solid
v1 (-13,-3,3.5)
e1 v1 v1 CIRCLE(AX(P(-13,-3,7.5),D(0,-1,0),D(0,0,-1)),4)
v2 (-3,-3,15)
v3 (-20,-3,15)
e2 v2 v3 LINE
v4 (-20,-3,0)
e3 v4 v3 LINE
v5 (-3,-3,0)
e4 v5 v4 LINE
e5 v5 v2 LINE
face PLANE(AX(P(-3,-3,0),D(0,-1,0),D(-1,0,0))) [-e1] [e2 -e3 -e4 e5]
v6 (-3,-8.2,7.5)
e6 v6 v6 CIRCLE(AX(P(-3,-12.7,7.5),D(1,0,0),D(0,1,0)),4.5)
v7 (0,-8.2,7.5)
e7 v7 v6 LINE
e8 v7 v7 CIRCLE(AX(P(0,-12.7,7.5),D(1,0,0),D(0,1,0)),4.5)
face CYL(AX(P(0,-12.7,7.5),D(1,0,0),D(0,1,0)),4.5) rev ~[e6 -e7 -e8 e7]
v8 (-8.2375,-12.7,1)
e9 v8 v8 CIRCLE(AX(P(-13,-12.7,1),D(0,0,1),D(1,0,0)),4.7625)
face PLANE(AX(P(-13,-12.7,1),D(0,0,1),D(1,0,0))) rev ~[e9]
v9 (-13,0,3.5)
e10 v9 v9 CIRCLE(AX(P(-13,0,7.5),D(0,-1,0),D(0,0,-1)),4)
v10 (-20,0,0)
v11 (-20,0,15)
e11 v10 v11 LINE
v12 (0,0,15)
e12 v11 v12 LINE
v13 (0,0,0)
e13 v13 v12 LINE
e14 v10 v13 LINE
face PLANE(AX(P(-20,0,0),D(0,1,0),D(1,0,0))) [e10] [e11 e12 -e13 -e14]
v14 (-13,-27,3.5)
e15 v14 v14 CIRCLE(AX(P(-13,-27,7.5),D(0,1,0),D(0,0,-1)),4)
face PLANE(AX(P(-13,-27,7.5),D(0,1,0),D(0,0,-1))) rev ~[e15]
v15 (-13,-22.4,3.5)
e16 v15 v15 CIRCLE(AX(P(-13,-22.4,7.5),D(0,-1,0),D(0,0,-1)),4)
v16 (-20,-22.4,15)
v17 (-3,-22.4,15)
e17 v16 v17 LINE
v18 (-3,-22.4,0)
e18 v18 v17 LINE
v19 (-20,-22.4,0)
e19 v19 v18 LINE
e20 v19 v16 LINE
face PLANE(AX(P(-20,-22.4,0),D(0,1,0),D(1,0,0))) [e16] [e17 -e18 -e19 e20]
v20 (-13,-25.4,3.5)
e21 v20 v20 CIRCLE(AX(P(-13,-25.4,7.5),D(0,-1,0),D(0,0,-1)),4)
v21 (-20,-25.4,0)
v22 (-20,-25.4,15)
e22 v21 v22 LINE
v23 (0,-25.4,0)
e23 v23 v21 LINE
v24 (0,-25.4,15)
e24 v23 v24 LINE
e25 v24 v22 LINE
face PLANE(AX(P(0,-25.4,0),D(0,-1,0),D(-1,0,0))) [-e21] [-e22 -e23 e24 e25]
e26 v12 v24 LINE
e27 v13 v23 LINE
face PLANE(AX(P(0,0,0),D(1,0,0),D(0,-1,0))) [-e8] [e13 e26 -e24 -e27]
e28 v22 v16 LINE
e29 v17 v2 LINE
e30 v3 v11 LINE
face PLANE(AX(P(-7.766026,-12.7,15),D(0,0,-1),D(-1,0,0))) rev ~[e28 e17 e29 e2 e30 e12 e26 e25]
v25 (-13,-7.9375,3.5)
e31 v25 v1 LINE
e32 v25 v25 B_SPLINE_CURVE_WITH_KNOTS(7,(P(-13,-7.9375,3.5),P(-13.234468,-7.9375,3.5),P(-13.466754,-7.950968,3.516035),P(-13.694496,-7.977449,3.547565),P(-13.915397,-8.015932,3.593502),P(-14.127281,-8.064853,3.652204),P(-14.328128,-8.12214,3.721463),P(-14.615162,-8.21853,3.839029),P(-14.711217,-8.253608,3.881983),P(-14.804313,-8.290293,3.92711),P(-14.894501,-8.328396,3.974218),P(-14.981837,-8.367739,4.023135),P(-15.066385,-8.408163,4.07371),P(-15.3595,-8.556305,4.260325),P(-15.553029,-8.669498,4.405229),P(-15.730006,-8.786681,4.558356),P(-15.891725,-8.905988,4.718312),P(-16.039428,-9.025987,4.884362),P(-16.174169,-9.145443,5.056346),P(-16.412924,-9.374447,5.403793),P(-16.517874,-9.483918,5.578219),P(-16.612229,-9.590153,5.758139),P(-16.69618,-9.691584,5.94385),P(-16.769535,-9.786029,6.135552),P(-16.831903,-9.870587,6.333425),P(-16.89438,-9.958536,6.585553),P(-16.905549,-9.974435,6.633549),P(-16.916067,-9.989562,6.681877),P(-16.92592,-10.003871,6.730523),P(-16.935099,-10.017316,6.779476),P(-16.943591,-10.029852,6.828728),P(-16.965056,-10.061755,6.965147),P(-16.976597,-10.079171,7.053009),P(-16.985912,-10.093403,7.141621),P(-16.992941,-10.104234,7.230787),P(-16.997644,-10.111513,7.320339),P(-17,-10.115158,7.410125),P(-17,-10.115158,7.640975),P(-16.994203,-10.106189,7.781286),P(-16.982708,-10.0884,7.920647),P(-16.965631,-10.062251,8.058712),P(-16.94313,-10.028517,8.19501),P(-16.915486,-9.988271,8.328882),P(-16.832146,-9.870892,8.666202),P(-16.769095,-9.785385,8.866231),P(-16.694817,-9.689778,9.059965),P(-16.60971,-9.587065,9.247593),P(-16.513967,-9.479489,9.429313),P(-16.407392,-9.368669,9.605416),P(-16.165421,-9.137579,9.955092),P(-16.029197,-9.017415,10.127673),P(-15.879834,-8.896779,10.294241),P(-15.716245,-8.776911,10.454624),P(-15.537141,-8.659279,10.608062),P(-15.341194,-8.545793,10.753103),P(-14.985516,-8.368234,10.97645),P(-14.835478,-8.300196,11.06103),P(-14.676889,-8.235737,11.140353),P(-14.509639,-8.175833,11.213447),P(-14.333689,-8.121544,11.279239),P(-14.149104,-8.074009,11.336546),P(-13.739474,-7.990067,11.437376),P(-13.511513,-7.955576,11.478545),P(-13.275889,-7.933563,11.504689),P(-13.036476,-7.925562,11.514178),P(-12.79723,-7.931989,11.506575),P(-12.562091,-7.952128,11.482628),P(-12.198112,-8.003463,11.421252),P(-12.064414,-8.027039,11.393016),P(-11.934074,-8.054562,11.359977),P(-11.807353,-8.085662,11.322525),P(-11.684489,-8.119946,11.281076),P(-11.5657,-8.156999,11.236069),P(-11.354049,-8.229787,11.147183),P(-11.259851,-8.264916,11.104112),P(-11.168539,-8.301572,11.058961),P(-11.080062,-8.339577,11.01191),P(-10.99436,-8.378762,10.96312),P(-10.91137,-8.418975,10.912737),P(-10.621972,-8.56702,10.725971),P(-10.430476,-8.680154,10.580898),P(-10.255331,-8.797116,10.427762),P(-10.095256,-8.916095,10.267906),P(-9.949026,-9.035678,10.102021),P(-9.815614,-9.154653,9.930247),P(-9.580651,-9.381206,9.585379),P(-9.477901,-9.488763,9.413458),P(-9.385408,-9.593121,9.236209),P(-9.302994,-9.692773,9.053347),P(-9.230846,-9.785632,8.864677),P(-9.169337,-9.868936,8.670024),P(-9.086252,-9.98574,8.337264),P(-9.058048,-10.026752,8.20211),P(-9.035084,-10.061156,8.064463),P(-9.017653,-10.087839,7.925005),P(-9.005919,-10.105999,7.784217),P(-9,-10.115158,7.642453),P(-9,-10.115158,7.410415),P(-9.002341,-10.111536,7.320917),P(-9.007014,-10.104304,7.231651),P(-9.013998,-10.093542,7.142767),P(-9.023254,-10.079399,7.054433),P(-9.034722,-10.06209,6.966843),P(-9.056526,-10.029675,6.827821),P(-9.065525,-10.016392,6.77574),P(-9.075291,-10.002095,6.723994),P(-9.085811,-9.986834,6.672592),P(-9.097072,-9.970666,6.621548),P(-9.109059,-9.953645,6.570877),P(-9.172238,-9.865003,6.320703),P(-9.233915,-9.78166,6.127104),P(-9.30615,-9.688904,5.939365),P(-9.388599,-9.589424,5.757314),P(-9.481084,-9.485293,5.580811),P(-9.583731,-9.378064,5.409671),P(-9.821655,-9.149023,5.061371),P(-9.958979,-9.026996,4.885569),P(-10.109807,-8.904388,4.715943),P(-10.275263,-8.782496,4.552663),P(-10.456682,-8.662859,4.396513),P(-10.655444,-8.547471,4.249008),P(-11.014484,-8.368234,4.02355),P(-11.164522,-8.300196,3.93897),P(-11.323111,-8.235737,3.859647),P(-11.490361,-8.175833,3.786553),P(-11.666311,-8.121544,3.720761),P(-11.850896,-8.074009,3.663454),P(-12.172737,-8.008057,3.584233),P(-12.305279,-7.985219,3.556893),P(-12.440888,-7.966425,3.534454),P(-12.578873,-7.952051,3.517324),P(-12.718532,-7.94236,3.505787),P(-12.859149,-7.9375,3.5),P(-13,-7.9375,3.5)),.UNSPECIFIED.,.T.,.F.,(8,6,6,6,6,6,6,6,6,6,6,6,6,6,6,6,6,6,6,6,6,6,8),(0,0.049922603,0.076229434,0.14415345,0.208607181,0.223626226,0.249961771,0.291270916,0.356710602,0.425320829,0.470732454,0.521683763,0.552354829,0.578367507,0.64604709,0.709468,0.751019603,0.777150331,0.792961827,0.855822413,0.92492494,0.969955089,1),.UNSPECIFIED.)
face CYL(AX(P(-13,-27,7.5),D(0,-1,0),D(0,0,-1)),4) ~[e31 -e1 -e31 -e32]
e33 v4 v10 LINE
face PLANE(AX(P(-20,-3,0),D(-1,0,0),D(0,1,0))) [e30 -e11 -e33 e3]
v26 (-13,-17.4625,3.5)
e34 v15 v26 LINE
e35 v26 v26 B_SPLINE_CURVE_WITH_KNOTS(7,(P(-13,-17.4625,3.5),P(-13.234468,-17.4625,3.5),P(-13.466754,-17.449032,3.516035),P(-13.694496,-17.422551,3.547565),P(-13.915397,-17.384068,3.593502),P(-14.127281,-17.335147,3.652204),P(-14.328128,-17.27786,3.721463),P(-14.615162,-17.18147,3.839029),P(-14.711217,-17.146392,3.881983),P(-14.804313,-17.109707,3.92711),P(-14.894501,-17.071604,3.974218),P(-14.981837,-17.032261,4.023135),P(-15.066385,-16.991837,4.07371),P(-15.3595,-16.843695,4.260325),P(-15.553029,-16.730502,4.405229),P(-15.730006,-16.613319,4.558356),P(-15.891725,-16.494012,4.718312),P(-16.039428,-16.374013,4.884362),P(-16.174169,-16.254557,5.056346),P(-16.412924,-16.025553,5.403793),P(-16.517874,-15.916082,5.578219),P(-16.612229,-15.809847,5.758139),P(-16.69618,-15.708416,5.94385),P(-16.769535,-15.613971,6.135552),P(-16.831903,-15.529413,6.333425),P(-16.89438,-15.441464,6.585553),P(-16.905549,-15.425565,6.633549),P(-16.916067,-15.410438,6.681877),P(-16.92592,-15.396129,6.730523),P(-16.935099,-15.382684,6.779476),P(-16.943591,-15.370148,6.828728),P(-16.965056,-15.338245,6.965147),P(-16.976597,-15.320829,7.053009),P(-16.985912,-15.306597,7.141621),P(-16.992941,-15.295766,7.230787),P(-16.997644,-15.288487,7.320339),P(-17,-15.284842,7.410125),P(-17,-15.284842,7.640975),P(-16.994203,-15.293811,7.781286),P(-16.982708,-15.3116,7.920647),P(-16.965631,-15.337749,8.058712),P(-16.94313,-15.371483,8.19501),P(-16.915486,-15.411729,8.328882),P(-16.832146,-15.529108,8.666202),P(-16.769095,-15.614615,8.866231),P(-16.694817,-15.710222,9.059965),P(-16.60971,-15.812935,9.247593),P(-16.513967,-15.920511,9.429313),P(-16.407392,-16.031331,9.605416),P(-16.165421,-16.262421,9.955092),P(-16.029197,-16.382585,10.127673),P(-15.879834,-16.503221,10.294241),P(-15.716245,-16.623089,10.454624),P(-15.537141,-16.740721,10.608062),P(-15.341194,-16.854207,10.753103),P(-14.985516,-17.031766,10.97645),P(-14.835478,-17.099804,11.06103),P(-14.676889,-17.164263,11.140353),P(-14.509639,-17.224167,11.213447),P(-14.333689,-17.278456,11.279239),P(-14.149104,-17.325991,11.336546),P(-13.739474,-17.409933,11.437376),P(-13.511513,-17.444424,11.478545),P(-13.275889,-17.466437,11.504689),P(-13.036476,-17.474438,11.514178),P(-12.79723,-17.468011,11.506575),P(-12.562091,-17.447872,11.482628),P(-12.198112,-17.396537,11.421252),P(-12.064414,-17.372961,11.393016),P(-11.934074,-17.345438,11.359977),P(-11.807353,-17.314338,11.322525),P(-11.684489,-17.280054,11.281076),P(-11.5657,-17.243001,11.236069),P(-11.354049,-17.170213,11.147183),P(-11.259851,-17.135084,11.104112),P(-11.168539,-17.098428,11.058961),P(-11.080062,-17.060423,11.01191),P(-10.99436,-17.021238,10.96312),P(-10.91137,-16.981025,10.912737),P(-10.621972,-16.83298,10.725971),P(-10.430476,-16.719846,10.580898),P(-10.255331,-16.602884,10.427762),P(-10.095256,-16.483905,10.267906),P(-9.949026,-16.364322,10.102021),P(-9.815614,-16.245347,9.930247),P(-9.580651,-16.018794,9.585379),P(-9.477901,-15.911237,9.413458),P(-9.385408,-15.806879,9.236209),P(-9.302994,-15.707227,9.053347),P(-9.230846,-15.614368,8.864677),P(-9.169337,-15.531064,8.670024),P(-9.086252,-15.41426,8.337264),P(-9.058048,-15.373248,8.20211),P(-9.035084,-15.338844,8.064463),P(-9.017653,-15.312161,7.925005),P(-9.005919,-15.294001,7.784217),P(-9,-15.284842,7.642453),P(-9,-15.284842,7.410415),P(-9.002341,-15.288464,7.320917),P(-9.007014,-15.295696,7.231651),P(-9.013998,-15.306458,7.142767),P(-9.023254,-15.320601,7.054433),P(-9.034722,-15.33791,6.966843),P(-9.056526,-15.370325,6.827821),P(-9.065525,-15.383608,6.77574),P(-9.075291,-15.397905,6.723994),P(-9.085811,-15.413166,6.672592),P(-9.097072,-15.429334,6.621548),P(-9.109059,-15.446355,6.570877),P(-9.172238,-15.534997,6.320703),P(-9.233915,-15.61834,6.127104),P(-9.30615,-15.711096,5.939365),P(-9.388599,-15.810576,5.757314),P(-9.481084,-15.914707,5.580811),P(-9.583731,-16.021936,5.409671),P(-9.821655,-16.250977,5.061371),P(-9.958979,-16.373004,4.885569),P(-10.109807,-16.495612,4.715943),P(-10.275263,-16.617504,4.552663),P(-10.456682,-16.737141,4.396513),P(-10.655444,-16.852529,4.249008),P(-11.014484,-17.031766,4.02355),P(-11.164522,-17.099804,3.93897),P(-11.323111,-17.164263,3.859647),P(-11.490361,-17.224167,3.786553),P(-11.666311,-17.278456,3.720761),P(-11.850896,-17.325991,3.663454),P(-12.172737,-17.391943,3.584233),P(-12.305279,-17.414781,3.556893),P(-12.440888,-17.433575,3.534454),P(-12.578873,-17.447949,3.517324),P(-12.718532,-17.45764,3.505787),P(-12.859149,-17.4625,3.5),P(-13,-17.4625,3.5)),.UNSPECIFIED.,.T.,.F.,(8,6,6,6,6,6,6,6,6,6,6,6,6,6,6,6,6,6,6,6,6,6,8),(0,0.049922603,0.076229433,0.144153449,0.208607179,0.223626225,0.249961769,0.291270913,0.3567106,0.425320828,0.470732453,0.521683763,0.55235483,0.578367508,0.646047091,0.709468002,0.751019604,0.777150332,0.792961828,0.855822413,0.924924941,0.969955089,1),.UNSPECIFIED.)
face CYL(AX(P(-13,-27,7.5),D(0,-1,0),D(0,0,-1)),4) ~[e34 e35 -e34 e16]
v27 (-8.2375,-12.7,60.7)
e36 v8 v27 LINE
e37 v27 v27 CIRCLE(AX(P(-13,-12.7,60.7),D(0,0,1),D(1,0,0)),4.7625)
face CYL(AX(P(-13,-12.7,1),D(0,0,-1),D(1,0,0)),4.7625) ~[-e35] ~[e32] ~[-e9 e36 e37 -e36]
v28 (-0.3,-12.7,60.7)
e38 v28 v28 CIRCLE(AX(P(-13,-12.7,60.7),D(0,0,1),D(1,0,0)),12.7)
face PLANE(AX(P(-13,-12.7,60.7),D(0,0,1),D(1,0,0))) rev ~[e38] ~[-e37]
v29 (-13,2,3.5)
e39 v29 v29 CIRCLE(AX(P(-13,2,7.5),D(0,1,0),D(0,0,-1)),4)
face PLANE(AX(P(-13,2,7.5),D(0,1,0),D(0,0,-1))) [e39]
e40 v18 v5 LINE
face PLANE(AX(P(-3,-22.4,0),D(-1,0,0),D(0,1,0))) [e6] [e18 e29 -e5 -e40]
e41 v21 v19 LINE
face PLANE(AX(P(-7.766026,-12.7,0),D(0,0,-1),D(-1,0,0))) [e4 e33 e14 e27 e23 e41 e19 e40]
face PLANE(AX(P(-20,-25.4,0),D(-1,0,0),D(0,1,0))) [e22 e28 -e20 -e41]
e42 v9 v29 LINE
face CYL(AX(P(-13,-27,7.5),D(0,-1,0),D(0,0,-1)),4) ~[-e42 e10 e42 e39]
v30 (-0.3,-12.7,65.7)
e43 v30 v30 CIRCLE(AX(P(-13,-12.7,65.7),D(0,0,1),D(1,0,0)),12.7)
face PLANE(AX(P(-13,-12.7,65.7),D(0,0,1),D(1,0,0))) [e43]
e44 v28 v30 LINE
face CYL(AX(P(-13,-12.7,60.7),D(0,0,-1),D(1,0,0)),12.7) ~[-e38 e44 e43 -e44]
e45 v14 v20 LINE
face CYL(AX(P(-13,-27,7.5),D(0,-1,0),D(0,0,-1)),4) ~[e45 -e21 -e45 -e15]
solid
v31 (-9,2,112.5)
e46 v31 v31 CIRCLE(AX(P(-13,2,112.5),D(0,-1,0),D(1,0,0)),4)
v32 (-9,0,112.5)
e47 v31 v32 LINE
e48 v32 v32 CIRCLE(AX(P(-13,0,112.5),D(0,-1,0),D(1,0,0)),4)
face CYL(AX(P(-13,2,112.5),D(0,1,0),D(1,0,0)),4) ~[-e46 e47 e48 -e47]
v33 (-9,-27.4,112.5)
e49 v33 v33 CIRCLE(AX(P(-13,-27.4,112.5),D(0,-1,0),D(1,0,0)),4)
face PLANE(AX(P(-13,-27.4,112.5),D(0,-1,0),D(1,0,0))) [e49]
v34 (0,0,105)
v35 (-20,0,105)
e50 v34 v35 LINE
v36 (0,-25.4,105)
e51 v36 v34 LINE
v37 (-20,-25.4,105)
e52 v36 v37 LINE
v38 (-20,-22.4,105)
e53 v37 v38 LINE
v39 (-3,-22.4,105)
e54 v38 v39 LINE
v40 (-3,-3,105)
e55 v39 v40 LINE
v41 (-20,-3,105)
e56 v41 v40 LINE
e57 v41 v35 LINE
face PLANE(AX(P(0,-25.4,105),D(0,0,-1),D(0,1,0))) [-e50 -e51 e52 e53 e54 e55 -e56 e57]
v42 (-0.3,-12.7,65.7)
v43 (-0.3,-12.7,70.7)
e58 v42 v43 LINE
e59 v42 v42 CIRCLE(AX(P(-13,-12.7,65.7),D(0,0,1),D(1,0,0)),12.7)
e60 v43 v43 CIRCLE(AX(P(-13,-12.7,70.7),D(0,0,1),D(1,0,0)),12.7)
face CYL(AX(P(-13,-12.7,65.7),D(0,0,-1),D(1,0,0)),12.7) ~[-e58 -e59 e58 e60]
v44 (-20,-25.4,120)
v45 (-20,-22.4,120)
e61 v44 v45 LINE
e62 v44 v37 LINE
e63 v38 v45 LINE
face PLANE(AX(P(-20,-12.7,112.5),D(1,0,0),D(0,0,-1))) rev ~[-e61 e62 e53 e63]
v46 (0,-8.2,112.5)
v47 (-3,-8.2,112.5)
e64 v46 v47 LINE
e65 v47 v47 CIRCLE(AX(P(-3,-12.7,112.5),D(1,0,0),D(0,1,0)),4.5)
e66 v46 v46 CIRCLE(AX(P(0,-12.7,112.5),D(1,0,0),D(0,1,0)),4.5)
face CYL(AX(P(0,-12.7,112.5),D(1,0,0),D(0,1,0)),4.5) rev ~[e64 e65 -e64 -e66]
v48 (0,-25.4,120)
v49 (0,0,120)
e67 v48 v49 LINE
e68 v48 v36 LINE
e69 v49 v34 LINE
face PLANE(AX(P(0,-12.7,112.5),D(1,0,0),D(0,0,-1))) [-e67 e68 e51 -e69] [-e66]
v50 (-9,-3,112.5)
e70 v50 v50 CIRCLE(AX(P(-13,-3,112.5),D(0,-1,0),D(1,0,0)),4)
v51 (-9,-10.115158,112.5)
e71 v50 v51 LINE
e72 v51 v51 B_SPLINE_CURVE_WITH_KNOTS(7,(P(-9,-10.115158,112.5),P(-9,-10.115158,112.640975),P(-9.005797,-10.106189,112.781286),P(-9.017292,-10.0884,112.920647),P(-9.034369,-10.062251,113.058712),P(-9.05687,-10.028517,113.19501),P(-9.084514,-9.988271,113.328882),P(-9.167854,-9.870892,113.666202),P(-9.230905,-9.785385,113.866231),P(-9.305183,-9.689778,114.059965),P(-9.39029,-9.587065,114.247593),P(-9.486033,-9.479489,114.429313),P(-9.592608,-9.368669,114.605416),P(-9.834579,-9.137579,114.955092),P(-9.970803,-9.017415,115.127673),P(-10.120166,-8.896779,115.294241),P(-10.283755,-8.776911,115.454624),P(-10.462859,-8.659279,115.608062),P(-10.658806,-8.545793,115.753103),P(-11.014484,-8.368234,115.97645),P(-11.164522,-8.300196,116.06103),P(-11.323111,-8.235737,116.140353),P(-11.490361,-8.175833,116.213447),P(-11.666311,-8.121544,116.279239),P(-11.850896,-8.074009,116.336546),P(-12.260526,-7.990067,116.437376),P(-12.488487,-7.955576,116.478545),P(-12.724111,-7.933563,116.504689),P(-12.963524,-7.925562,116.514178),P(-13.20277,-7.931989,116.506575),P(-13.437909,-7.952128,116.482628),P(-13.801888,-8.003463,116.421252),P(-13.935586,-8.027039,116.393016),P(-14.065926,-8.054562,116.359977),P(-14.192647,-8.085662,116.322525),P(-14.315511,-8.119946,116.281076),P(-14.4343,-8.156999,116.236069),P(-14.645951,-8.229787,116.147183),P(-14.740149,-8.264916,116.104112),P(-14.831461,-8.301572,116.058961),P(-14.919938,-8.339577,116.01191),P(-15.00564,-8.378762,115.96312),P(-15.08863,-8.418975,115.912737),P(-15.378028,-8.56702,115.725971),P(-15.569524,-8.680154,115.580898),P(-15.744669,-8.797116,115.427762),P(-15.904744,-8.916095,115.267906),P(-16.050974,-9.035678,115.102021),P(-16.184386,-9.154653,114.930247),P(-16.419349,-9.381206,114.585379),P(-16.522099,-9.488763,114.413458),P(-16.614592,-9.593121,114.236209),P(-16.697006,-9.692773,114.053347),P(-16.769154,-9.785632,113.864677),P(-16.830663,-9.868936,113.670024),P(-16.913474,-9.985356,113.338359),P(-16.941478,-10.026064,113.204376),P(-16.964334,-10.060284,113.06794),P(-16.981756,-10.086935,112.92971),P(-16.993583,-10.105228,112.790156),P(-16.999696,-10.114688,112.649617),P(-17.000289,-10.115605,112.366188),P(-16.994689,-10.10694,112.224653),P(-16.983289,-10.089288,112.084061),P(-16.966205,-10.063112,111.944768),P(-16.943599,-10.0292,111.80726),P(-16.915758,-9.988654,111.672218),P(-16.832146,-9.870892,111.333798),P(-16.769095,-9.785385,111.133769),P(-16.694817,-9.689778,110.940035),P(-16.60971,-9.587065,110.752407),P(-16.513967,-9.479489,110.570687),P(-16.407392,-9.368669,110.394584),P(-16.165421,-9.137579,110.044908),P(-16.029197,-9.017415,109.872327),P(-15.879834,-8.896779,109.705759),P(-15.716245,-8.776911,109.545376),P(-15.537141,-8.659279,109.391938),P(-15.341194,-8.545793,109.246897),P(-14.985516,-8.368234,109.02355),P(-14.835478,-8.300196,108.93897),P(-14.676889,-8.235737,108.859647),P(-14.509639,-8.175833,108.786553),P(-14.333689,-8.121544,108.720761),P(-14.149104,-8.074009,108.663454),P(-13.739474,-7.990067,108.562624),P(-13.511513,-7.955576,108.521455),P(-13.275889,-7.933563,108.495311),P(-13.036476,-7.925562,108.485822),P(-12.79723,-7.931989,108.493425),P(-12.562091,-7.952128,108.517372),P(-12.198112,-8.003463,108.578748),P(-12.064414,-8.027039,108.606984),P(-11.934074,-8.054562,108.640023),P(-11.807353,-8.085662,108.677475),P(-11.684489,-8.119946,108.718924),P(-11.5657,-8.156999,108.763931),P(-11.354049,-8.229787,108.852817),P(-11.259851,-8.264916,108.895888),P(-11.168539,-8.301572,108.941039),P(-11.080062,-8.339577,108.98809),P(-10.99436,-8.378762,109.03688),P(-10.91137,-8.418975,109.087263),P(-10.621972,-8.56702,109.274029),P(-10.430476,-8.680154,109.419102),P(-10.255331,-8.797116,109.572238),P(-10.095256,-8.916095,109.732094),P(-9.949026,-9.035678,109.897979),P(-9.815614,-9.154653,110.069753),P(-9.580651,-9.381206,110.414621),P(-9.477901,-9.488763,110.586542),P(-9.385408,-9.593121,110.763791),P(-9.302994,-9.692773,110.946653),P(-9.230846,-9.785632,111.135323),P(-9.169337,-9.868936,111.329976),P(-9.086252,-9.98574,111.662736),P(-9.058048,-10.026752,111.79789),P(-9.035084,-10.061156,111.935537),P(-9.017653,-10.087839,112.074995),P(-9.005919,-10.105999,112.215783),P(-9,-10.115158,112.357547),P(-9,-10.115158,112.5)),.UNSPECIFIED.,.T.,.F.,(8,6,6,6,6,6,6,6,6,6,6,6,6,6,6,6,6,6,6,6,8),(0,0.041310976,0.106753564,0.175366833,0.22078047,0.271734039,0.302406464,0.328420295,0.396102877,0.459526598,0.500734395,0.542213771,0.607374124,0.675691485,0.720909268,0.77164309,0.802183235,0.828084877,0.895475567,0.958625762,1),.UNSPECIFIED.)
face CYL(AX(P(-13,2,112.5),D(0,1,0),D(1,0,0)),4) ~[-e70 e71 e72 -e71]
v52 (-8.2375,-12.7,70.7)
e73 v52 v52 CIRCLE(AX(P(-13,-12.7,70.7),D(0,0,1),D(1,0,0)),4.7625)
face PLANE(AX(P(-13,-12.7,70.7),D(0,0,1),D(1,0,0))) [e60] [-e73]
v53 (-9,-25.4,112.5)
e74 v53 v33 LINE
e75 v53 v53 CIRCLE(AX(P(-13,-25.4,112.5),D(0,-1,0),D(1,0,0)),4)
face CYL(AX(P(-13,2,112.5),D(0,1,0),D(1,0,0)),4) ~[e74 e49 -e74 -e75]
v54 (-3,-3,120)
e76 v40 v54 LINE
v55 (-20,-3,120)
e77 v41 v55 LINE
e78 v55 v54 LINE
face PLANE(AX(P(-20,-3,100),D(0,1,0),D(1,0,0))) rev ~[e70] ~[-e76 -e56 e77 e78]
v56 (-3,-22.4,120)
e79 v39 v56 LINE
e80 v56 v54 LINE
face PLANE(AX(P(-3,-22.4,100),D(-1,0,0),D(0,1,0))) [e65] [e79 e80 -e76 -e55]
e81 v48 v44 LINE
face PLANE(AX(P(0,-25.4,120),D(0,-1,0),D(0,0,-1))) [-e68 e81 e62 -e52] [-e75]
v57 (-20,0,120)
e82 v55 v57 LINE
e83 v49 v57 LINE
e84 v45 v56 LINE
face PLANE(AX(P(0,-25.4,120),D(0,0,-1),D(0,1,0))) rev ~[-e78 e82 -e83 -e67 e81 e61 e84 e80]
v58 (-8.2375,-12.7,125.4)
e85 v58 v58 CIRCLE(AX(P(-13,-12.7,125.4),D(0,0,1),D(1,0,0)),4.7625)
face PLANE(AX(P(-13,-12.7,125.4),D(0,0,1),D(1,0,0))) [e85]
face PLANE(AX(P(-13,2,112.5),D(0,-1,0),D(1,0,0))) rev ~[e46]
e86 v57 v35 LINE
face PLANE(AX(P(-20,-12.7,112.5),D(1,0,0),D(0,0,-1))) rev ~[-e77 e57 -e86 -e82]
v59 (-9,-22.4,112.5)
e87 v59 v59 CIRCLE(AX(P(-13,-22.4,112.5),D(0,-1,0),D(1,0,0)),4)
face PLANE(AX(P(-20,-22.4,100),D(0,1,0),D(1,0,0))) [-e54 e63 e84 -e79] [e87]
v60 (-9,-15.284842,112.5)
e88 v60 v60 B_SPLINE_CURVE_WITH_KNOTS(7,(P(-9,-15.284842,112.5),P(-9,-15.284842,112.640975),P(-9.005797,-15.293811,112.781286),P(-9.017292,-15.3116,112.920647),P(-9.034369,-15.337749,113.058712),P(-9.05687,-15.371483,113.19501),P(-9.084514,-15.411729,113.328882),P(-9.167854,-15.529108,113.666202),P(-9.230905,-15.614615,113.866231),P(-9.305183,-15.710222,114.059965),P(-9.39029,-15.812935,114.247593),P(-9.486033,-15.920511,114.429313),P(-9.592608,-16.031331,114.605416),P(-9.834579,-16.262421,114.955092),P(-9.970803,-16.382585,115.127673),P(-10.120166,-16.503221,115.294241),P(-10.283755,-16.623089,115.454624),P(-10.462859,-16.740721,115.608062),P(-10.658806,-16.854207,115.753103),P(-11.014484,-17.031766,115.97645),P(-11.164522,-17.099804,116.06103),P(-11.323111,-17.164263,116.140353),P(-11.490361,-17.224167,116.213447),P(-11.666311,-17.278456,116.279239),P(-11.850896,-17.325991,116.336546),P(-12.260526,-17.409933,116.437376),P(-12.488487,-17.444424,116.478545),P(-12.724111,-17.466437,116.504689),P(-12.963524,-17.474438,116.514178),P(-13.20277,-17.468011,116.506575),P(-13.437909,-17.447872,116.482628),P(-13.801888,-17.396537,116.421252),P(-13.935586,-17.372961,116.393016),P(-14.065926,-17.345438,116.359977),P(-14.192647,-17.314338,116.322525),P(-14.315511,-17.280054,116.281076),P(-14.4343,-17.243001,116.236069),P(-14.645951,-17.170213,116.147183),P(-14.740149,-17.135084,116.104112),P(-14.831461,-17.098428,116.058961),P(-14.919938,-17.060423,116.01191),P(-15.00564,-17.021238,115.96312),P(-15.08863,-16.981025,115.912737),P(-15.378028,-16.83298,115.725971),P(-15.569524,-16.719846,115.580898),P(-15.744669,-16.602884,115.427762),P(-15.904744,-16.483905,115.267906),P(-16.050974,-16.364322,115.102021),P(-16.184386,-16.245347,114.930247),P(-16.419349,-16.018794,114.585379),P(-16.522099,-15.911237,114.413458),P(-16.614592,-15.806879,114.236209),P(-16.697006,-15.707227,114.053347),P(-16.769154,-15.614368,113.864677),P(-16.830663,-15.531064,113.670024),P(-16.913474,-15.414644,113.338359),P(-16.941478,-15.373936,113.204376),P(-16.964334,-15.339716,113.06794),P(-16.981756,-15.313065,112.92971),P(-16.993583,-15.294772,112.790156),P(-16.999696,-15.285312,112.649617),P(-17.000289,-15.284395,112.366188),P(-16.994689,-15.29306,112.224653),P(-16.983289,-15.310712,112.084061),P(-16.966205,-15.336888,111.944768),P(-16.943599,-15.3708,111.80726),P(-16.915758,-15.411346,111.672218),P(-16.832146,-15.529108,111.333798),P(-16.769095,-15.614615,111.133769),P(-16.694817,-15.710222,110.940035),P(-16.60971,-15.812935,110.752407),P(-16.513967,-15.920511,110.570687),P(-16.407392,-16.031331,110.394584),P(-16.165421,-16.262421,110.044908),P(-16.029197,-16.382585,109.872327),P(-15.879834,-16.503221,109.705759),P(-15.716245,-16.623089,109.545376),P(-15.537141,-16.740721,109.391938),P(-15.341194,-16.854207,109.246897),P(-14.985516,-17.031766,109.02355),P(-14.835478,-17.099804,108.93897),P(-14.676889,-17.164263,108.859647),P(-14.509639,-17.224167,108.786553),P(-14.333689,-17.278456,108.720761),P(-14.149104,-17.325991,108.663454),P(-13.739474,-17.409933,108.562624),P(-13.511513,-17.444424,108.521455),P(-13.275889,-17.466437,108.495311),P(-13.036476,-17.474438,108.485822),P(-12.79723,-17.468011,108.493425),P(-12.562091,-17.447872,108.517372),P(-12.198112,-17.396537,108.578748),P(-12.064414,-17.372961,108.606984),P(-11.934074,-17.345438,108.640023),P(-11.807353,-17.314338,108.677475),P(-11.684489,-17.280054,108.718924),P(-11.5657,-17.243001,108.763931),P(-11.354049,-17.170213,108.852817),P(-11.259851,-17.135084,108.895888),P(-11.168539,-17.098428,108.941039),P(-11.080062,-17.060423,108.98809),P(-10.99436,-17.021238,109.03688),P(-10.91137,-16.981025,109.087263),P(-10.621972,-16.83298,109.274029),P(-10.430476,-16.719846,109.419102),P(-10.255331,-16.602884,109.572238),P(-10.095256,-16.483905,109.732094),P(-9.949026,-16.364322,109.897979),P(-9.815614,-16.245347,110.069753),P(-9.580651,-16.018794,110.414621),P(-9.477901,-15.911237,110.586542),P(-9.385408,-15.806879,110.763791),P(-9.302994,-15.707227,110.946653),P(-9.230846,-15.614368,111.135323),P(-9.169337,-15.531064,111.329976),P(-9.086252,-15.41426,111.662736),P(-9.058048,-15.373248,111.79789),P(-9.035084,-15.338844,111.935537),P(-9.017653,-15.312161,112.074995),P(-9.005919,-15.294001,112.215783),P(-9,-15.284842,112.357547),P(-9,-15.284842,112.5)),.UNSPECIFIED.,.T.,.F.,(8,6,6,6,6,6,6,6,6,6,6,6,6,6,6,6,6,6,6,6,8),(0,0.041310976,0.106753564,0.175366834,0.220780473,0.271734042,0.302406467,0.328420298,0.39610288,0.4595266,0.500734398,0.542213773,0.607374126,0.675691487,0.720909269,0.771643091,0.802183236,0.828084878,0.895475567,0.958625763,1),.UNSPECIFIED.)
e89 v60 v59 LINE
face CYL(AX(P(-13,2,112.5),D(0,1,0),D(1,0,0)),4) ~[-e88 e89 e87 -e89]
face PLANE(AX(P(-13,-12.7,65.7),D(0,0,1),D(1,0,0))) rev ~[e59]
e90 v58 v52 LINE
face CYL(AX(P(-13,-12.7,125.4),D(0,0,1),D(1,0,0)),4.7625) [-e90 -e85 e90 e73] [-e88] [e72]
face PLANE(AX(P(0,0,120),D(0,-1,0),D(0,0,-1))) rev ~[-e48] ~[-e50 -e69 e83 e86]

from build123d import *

# Parameters (mm, degrees)
BOSS_EXTRUDE1_DEPTH       = 15
SKETCH2_R                 = 4.5
CUT_EXTRUDE1_DEPTH        = 15
SKETCH3_R                 = 4
CUT_EXTRUDE2_DEPTH        = 36.639304146
BOSS_EXTRUDE2_DEPTH       = 2
BOSS_EXTRUDE2_DEPTH_BACK  = 27
SKETCH4_R                 = 4
SKETCH5_R                 = 2.5
CUT_EXTRUDE3_DEPTH        = 27
BOSS_EXTRUDE3_DEPTH       = 45.7
BOSS_EXTRUDE3_DEPTH_BACK  = 14
SKETCH6_R                 = 4.7625
SKETCH7_W                 = 15
SKETCH7_H                 = 25.4
BOSS_EXTRUDE4_DEPTH       = 20
SKETCH13_R                = 12.7
BOSS_EXTRUDE7_DEPTH       = 5
SKETCH16_R                = 12.7
BOSS_EXTRUDE8_DEPTH       = 5
SKETCH17_R                = 2.5
CUT_EXTRUDE6_DEPTH        = 54.7
BOSS_EXTRUDE9_START       = 54.7
SKETCH18_R                = 4.7625
BOSS_EXTRUDE9_DEPTH       = 54.7
CUT_EXTRUDE7_DEPTH        = 126.65623741
CUT_EXTRUDE7_DEPTH_BACK   = 20
SKETCH19_W                = 17
SKETCH19_H                = 19.4
SKETCH19_R                = 4.7625
SKETCH10_R                = 4
CUT_EXTRUDE8_DEPTH        = 131.906111393
BOSS_EXTRUDE10_DEPTH      = 2
BOSS_EXTRUDE10_DEPTH_BACK = 27.4
SKETCH20_R                = 4
SKETCH21_R                = 4.5
CUT_EXTRUDE9_DEPTH        = 8


with BuildPart() as part:
    # Sketch1 → Boss-Extrude1 (new body)
    with BuildSketch(Plane.XY):
        Polygon((0, 0), (0, -25.4), (-20, -25.4), (-20, -22.4), (-3, -22.4), (-3, -3), (-20, -3), (-20, 0), align=None)
    extrude(amount=BOSS_EXTRUDE1_DEPTH)

    # Sketch2 → Cut-Extrude1 (cut)
    with BuildSketch(Plane(origin=(0, 0, 0), x_dir=(0, 0, -1), z_dir=(1, 0, 0))):
        with Locations(Location((-7.5, -12.7, 0), (0, 0, 90))):
            Circle(SKETCH2_R)
    extrude(amount=-CUT_EXTRUDE1_DEPTH, mode=Mode.SUBTRACT)

    # Sketch3 → Cut-Extrude2 (cut, through all)
    with BuildSketch(Plane.XZ.offset(25.4)):
        with Locations(Location((-13, 7.5, 0), (0, 0, 270))):
            Circle(SKETCH3_R)
    extrude(amount=-CUT_EXTRUDE2_DEPTH, mode=Mode.SUBTRACT)

    # Sketch4 → Boss-Extrude2 (add, two sides: drawn at the far end of the back side and taken through both)
    with BuildSketch(Plane(origin=(0, 0, 0), x_dir=(1, 0, 0), z_dir=(0, 1, 0)).offset(-BOSS_EXTRUDE2_DEPTH_BACK)):
        with Locations(Location((-13, -7.5, 0), (0, 0, 90))):
            Circle(SKETCH4_R)
    extrude(amount=BOSS_EXTRUDE2_DEPTH + BOSS_EXTRUDE2_DEPTH_BACK)

    # Sketch5 → Cut-Extrude3 (cut)
    with BuildSketch(Plane.XY.offset(15)):
        with Locations((-13, -12.7)):
            Circle(SKETCH5_R)
    extrude(amount=-CUT_EXTRUDE3_DEPTH, mode=Mode.SUBTRACT)

    # Sketch6 → Boss-Extrude3 (add, two sides: drawn at the far end of the back side and taken through both)
    with BuildSketch(Plane.XY.offset(15).offset(-BOSS_EXTRUDE3_DEPTH_BACK)):
        with Locations((-13, -12.7)):
            Circle(SKETCH6_R)
    extrude(amount=BOSS_EXTRUDE3_DEPTH + BOSS_EXTRUDE3_DEPTH_BACK)

    # Sketch13 → Boss-Extrude7 (add)
    with BuildSketch(Plane.XY.offset(60.7)):
        with Locations((-13, -12.7)):
            Circle(SKETCH13_R)
    extrude(amount=BOSS_EXTRUDE7_DEPTH)


with BuildPart() as body_2:
    # Sketch7 → Boss-Extrude4 (new body)
    with BuildSketch(Plane(origin=(0, 0, 0), x_dir=(0, 0, -1), z_dir=(1, 0, 0))):
        with Locations((-112.5, -12.7)):
            Rectangle(SKETCH7_W, SKETCH7_H)
    extrude(amount=-BOSS_EXTRUDE4_DEPTH)

    # Sketch17 → Cut-Extrude6 (cut)
    with BuildSketch(Plane.XY.offset(70.7)):
        with Locations(Location((-13, -12.7, 0), (0, 0, 180))):
            Circle(SKETCH17_R)
    extrude(amount=CUT_EXTRUDE6_DEPTH, mode=Mode.SUBTRACT)



with BuildPart() as body_3:
    # Sketch16 → Boss-Extrude8 (new body)
    with BuildSketch(Plane.XY.offset(65.7)):
        with Locations((-13, -12.7)):
            Circle(SKETCH16_R)
    extrude(amount=BOSS_EXTRUDE8_DEPTH)


with BuildPart() as body_2_1:
    add(body_2.part)

    add(body_3.part)  # Boss-Extrude9 merges body 3
    # Sketch18 → Boss-Extrude9 (add)
    with BuildSketch(Plane.XY.offset(70.7).offset(BOSS_EXTRUDE9_START)):
        with Locations((-13, -12.7)):
            Circle(SKETCH18_R)
    extrude(amount=-BOSS_EXTRUDE9_DEPTH)

    # Sketch19 → Cut-Extrude7 (cut, two sides: drawn at the far end of the back side and taken through both)
    with BuildSketch(Plane.XY.offset(120).offset(-CUT_EXTRUDE7_DEPTH_BACK)):
        with Locations((-11.5, -12.7)):
            Rectangle(SKETCH19_W, SKETCH19_H)
        with Locations((-13, -12.7)):
            Circle(SKETCH19_R, mode=Mode.SUBTRACT)
    extrude(amount=CUT_EXTRUDE7_DEPTH + CUT_EXTRUDE7_DEPTH_BACK, mode=Mode.SUBTRACT)


with BuildPart() as cut_extrude7_piece_1:
    # of the separate pieces the step leaves, piece 1, a body of its own (cut_extrude7_pieces)
    add(body_2_1.part.solids().sort_by_distance((-0.3, -12.7, 65.7))[0])


with BuildPart() as cut_extrude7_piece_2:
    # of the separate pieces the step leaves, piece 2, a body of its own (cut_extrude7_pieces)
    add(body_2_1.part.solids().sort_by_distance((0, 0, 105))[0])


with BuildPart() as cut_extrude8_tool:
    # Sketch10 → Cut-Extrude8 (new, through all)
    with BuildSketch(Plane(origin=(0, -25.4, 0), x_dir=(-1, 0, 0), z_dir=(0, -1, 0))):
        with Locations(Location((13, -112.5, 0), (0, 0, 180))):
            Circle(SKETCH10_R)
    extrude(amount=-CUT_EXTRUDE8_DEPTH)


with BuildPart() as cut_extrude7_piece_1_1:
    add(cut_extrude7_piece_1.part)

    # Cut-Extrude8: cut by cut_extrude8_tool
    add(cut_extrude8_tool.part, mode=Mode.SUBTRACT)



with BuildPart() as cut_extrude7_piece_2_1:
    add(cut_extrude7_piece_2.part)

    # Cut-Extrude8: cut by cut_extrude8_tool
    add(cut_extrude8_tool.part, mode=Mode.SUBTRACT)


with BuildPart() as cut_extrude7_piece_1_2:
    add(cut_extrude7_piece_1_1.part)

    add(cut_extrude7_piece_2_1.part)  # Boss-Extrude10 merges Cut-Extrude7 piece 2
    # Sketch20 → Boss-Extrude10 (add, two sides: drawn at the far end of the back side and taken through both)
    with BuildSketch(Plane.XZ.offset(25.4).offset(-BOSS_EXTRUDE10_DEPTH_BACK)):
        with Locations((-13, 112.5)):
            Circle(SKETCH20_R)
    extrude(amount=BOSS_EXTRUDE10_DEPTH + BOSS_EXTRUDE10_DEPTH_BACK)

    # Sketch21 → Cut-Extrude9 (cut)
    with BuildSketch(Plane(origin=(0, 0, 0), x_dir=(0, 0, -1), z_dir=(1, 0, 0))):
        with Locations(Location((-112.5, -12.7, 0), (0, 0, 90))):
            Circle(SKETCH21_R)
    extrude(amount=-CUT_EXTRUDE9_DEPTH, mode=Mode.SUBTRACT)


solid = Compound([part.part, cut_extrude7_piece_1_2.part])
